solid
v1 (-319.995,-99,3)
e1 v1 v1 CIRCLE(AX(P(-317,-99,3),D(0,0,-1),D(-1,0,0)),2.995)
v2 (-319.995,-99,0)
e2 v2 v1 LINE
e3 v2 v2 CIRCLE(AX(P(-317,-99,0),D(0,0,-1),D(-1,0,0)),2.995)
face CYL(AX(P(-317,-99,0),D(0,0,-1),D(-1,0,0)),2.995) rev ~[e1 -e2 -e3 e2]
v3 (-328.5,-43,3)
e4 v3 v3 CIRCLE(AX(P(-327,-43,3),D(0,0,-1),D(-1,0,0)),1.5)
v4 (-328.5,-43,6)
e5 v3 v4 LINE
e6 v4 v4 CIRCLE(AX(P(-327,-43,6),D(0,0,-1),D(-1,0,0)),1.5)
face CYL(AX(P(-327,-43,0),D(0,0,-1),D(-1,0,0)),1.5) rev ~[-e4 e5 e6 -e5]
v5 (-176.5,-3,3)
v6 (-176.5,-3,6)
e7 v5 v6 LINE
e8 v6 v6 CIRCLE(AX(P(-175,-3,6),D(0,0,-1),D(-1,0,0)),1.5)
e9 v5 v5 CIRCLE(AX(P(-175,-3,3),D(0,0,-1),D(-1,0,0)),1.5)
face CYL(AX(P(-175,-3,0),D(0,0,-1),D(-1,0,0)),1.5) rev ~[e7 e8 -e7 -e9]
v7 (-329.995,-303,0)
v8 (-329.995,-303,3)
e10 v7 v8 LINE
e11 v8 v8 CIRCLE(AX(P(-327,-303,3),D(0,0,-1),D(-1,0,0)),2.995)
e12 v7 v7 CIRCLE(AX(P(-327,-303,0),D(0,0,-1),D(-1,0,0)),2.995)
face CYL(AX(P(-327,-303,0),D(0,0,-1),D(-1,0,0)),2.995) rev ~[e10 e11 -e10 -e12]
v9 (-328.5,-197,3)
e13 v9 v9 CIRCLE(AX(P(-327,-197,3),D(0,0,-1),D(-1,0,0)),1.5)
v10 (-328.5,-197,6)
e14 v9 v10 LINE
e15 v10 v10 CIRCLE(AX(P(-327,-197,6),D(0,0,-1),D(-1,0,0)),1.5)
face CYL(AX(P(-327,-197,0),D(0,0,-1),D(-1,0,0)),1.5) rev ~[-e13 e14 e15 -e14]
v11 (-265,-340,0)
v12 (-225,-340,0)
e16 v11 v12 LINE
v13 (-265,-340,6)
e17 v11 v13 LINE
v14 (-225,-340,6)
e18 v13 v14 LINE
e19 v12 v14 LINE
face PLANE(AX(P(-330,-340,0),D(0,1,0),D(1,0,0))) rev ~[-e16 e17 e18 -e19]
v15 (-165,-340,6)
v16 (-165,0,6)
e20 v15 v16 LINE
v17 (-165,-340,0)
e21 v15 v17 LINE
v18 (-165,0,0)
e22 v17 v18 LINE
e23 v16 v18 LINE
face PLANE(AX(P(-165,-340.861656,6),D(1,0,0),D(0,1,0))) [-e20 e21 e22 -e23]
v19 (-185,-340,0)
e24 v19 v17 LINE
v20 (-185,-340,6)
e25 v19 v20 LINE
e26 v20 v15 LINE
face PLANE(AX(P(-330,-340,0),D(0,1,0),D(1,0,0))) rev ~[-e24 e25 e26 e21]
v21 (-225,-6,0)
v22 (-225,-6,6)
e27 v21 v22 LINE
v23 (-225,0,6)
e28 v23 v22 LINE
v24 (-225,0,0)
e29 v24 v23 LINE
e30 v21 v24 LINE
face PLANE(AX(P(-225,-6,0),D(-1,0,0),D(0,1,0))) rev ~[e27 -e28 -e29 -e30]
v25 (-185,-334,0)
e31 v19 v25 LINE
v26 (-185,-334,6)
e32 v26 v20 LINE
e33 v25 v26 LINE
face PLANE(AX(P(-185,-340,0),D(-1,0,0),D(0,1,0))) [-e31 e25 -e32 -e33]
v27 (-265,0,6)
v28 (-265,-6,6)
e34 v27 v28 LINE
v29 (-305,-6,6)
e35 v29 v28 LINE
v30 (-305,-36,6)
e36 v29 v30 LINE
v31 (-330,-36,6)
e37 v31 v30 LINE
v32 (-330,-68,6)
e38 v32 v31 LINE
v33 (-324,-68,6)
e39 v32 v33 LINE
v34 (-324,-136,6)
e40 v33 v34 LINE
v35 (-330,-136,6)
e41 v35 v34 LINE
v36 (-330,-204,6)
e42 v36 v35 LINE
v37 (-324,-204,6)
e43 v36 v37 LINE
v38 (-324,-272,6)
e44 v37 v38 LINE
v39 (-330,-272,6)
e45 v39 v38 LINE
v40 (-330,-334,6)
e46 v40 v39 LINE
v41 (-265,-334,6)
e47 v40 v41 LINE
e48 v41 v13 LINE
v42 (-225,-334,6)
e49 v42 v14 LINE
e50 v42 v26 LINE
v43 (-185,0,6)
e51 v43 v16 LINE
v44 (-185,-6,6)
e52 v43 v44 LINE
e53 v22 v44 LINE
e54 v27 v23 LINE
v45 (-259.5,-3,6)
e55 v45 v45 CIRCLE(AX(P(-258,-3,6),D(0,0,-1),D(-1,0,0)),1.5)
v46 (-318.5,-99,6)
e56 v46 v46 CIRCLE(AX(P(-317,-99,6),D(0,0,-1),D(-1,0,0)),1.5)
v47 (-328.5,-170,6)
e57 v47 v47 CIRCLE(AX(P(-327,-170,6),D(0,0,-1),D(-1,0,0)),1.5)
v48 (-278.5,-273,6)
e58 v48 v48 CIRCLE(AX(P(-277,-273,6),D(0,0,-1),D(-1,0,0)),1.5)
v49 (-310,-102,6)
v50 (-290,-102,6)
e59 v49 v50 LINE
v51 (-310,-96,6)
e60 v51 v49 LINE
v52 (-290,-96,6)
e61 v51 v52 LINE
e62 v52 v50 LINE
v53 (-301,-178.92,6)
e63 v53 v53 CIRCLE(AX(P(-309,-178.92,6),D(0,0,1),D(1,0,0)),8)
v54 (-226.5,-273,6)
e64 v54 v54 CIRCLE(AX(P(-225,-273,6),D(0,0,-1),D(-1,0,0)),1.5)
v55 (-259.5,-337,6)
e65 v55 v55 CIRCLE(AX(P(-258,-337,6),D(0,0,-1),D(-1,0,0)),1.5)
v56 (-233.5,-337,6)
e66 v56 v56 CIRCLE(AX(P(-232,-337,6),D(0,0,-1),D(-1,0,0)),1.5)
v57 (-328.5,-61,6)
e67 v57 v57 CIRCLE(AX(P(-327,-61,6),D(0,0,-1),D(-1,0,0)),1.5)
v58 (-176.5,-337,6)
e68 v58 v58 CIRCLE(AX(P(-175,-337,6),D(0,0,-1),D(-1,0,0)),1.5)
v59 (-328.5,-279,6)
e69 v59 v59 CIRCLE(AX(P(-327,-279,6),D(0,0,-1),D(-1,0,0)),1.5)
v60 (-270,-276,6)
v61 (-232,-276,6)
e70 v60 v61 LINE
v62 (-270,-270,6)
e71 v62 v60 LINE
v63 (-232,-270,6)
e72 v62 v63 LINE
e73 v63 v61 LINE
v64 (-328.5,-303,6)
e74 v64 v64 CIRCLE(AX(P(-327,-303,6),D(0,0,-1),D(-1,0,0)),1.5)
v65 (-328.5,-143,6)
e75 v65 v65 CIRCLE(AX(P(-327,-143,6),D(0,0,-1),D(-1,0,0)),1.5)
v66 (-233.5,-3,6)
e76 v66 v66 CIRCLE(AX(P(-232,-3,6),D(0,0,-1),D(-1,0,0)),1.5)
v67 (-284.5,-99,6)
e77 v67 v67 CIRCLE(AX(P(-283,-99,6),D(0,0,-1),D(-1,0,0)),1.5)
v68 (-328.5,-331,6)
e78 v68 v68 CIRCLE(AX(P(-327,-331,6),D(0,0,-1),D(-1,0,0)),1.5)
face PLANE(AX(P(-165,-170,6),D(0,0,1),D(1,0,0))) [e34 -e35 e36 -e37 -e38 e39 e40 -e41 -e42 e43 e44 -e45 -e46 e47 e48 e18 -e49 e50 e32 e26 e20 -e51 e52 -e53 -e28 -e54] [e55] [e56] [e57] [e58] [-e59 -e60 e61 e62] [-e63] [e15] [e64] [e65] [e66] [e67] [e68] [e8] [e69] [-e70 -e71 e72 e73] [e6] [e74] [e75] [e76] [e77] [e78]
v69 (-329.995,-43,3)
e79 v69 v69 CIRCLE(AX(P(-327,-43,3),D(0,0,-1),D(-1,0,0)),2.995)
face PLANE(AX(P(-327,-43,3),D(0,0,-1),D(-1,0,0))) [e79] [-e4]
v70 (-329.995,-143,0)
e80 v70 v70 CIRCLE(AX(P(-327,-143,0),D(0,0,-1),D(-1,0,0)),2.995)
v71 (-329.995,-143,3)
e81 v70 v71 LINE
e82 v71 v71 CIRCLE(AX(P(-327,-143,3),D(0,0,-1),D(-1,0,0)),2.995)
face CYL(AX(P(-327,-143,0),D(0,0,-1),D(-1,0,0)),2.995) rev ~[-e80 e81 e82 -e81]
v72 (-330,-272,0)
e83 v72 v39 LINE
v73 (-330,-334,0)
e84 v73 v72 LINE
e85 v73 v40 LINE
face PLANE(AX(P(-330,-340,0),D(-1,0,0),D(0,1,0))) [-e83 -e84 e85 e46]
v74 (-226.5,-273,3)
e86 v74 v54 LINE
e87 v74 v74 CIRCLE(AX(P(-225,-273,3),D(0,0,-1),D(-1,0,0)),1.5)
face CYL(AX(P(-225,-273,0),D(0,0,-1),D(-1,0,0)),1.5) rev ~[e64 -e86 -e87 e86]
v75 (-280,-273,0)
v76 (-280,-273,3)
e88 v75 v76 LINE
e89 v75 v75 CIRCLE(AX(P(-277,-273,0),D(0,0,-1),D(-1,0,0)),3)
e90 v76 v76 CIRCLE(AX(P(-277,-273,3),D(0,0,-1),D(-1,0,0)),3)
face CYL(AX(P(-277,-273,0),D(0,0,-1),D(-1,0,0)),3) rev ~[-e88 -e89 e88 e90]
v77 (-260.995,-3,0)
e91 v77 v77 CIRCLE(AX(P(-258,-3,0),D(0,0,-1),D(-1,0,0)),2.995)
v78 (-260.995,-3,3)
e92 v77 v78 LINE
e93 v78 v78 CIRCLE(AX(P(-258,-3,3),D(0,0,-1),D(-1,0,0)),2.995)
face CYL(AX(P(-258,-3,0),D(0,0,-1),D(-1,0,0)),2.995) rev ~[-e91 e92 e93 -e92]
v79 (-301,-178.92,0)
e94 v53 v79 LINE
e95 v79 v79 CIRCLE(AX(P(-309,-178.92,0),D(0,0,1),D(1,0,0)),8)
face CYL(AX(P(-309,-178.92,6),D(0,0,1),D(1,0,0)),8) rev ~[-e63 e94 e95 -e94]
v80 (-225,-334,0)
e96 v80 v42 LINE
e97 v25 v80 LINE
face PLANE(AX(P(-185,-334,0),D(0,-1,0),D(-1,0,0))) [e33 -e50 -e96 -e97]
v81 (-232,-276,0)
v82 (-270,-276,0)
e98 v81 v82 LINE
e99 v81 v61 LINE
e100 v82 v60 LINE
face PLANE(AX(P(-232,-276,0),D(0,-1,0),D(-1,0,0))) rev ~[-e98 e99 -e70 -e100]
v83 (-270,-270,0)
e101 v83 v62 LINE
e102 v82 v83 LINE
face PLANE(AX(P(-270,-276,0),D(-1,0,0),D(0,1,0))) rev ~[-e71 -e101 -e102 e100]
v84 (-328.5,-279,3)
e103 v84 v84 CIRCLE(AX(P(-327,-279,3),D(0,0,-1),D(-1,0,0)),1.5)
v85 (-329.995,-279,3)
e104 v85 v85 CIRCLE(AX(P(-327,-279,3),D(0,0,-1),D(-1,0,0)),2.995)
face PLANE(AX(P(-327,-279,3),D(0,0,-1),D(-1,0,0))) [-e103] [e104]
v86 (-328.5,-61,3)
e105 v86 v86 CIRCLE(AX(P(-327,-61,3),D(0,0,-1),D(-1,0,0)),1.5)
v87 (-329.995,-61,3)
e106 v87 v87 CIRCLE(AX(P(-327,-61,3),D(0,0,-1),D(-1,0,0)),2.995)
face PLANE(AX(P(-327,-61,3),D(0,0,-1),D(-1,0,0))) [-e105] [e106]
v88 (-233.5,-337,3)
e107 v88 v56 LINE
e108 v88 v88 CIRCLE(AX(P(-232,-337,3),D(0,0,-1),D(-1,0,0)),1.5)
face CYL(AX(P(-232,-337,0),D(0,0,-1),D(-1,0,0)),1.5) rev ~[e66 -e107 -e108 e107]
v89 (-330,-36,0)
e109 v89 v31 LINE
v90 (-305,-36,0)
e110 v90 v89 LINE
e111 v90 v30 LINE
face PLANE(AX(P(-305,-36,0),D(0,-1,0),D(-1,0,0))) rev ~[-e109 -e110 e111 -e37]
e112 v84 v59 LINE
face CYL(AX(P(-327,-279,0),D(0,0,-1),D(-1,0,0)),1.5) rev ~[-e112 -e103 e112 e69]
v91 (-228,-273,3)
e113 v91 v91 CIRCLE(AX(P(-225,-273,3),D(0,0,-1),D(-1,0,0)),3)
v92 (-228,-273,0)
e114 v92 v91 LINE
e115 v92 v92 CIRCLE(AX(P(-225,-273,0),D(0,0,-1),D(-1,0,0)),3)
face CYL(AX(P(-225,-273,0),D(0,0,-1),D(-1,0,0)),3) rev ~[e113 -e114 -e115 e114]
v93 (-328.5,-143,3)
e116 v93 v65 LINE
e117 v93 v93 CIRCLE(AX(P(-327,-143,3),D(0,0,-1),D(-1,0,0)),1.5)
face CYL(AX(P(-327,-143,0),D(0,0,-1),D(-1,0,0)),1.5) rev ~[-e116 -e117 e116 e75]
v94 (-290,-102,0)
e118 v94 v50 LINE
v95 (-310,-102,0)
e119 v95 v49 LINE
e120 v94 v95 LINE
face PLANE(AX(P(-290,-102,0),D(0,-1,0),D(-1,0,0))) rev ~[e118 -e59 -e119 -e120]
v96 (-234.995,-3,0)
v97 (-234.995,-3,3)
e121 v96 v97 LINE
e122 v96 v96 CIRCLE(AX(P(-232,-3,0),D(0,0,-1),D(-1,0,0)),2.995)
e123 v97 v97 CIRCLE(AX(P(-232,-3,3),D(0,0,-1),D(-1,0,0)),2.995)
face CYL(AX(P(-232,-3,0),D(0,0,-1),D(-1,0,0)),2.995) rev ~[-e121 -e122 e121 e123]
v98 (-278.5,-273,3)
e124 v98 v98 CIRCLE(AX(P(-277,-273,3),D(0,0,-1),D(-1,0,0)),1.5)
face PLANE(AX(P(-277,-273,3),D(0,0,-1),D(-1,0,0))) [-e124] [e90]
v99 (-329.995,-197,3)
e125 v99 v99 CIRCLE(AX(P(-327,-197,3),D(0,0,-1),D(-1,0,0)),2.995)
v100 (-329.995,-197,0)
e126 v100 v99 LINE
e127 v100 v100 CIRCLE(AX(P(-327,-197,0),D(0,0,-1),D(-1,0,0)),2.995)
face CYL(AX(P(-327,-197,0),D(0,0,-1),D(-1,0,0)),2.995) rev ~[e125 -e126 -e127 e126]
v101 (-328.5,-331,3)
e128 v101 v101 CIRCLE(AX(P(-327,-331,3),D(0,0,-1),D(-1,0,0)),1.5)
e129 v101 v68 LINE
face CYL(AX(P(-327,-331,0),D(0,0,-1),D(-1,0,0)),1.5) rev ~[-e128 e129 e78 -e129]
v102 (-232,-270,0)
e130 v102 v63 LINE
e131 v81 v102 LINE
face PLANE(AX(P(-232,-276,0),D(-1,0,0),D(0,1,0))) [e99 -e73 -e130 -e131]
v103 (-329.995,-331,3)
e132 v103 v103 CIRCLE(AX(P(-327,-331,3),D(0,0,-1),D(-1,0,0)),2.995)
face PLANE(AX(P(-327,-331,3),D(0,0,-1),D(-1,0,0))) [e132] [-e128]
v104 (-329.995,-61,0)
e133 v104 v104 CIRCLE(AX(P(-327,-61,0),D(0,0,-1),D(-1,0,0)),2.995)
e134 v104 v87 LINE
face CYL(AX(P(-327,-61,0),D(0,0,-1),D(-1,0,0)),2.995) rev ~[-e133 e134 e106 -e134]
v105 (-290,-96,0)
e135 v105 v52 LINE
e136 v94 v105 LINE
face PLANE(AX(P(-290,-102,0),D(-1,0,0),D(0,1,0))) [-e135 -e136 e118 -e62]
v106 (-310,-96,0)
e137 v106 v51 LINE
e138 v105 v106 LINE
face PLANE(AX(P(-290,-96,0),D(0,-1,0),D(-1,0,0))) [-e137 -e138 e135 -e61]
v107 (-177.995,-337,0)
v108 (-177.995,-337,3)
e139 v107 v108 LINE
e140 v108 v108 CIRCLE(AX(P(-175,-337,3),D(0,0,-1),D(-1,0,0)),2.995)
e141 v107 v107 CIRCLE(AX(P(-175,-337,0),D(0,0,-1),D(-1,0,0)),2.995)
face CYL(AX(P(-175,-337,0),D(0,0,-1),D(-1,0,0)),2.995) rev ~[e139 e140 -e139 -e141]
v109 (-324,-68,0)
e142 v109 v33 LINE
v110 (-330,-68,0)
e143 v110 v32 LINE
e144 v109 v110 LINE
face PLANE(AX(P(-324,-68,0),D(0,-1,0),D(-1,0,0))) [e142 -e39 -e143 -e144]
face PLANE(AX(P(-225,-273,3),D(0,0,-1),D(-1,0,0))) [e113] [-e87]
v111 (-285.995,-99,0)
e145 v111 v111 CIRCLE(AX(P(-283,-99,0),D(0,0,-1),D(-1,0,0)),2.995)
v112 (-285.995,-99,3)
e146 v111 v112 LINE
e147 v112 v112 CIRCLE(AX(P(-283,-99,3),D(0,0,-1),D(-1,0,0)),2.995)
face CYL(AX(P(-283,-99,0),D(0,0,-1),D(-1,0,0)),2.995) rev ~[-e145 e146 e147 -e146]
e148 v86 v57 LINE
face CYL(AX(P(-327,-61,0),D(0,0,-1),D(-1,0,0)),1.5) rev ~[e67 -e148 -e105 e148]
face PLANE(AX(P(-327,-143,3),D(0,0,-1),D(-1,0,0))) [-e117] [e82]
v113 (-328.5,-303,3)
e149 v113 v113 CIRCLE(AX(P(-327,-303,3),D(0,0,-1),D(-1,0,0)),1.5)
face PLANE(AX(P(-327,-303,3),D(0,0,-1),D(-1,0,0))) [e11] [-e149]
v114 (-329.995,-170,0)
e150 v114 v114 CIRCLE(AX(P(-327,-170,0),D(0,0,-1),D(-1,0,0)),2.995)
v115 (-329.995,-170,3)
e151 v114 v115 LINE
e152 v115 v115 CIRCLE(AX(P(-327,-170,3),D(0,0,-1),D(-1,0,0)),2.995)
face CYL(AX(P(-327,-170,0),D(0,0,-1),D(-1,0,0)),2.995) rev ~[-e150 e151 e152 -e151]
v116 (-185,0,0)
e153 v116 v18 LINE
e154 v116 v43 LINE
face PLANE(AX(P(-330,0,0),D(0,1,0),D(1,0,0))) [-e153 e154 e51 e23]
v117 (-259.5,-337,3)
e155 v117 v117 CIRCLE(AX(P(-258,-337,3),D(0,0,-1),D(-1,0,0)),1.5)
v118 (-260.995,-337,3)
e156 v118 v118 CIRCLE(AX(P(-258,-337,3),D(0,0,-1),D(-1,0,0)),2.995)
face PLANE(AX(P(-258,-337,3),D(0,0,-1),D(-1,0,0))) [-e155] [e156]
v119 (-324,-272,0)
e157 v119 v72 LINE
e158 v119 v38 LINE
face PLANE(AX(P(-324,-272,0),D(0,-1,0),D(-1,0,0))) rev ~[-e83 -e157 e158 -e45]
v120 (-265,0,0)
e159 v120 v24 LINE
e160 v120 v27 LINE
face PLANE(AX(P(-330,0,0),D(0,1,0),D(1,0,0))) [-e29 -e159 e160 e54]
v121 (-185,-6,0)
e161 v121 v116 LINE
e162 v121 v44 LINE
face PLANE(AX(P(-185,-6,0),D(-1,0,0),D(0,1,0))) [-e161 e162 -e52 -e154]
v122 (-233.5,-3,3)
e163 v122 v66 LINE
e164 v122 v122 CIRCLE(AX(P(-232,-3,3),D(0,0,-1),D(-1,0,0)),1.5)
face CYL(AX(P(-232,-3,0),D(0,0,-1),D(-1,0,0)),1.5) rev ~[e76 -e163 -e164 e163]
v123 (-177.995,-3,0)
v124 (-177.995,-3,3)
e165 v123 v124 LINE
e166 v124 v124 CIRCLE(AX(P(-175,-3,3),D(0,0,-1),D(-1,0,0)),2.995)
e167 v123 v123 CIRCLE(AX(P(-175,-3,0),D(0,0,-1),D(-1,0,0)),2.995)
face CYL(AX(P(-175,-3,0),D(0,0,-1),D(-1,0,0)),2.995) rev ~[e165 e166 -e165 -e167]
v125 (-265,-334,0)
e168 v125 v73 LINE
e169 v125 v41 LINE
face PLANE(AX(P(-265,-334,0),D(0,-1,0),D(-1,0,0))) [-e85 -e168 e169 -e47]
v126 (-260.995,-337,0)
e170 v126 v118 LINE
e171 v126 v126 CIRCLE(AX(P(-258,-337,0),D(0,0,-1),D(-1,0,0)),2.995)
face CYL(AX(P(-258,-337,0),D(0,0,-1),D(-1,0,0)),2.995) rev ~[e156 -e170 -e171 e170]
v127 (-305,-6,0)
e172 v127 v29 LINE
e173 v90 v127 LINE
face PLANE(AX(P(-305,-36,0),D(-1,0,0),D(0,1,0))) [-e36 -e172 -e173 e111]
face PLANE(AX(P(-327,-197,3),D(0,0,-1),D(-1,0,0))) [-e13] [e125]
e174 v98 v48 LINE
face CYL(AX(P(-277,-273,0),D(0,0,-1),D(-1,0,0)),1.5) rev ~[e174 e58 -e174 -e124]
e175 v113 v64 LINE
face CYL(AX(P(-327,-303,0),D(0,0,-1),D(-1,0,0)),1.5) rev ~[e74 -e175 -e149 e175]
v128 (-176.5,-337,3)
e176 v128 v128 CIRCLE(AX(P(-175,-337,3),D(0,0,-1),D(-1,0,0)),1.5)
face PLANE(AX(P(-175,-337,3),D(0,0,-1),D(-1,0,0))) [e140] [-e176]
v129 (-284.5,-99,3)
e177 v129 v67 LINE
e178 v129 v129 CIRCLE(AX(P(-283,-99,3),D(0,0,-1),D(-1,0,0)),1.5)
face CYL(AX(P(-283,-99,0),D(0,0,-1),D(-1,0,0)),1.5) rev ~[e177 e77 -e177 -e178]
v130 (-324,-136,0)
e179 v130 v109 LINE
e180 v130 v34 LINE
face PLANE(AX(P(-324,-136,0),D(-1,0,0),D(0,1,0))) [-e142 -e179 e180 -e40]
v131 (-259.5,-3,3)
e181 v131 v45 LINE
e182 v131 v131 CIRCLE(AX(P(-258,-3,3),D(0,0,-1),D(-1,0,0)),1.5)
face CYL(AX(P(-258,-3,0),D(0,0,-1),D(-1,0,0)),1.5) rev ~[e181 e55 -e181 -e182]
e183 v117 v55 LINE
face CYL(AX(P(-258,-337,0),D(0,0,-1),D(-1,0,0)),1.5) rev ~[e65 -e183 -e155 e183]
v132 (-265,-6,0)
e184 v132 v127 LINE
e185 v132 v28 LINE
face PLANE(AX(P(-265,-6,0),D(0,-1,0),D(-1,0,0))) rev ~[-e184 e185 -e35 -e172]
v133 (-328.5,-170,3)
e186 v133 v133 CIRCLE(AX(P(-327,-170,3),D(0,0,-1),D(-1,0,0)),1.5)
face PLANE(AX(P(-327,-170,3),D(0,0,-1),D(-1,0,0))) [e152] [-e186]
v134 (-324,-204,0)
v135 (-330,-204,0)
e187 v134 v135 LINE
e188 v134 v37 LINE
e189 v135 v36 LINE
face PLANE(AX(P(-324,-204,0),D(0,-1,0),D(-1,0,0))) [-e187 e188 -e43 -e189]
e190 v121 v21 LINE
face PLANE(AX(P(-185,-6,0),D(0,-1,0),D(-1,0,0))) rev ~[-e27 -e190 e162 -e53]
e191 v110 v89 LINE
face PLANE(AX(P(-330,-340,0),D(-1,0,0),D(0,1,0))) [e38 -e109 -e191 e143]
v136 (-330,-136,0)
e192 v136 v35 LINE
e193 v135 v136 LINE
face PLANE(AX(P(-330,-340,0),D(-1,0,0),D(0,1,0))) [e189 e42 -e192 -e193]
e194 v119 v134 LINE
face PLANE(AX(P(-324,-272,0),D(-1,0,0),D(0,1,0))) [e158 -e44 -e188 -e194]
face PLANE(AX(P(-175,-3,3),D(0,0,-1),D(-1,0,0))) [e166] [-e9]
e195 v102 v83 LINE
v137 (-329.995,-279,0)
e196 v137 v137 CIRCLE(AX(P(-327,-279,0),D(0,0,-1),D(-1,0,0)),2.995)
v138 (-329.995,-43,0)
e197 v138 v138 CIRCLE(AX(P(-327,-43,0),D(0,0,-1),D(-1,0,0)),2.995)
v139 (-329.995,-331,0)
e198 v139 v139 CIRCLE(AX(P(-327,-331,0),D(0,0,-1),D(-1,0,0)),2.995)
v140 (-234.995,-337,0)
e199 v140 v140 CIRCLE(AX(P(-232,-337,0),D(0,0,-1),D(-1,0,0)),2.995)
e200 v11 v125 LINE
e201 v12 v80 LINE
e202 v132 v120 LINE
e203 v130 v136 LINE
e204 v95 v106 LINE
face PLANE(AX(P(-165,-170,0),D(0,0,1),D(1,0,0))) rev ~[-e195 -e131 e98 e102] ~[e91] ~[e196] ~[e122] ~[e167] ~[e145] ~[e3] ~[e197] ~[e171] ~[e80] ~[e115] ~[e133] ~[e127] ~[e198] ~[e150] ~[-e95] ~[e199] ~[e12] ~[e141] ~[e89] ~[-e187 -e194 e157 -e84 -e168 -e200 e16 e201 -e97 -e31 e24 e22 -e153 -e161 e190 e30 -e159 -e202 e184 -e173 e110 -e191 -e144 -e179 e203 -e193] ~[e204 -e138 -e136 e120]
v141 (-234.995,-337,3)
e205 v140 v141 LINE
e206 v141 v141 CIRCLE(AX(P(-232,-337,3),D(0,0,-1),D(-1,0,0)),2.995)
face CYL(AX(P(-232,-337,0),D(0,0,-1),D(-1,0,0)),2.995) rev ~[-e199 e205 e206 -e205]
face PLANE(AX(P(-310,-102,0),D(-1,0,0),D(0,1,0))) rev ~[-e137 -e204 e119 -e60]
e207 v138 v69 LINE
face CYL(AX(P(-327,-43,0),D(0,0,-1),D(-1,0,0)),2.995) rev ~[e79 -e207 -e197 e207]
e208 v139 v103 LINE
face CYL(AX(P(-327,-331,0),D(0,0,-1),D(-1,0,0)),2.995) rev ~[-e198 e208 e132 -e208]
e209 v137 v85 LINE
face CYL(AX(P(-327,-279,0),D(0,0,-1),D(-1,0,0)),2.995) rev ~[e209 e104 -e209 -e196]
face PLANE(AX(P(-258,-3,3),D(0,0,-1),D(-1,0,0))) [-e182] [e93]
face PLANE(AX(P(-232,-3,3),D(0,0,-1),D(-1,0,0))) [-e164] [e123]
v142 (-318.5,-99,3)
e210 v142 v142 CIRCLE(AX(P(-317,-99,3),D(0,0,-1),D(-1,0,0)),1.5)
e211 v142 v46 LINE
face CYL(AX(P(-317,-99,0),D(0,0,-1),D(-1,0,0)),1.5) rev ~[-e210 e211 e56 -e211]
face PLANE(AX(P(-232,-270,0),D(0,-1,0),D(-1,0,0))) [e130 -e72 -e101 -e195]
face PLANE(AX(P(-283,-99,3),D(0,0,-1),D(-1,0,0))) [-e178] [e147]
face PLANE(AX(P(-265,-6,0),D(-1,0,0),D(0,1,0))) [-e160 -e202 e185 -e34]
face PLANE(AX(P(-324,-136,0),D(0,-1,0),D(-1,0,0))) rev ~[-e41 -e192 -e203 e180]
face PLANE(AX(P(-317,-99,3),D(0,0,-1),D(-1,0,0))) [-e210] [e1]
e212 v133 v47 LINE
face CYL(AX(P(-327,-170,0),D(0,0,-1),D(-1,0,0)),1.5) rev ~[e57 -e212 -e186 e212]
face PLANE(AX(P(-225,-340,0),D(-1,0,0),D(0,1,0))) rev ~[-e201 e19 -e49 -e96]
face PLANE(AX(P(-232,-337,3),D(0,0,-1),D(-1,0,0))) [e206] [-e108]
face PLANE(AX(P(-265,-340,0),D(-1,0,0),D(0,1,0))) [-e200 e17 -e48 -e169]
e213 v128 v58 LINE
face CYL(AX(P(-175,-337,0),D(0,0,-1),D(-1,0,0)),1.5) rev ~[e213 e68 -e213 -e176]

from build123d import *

# Parameters (mm, degrees)
ESQUISSE2_W                            = 330
ESQUISSE2_H                            = 340
BOSS_EXTRU_1_DEPTH                     = 6
ESQUISSE4_W                            = 65
ESQUISSE4_H                            = 6
ESQUISSE4_W_2                          = 40
ESQUISSE4_W_3                          = 6
ESQUISSE4_H_2                          = 68
ENL_V_MAT_ENCOCHE_BORD_DEPTH           = 474.852297662
ESQUISSE5_W                            = 38
ESQUISSE5_H                            = 6
ESQUISSE5_W_2                          = 25
ESQUISSE5_H_2                          = 30
ESQUISSE5_W_3                          = 15
ESQUISSE5_H_3                          = 10
ESQUISSE5_W_4                          = 20
ENL_V_MAT_ENCOCHE_TAGE_ROULETTES_DEPTH = 474.852297662
ESQUISSE6_R                            = 8
ENL_V_MAT_EXTRU_1_DEPTH                = 10
ESQUISSE7_W                            = 165
ESQUISSE7_H                            = 340.861655668
ENL_V_MAT_EXTRU_2_DEPTH                = 474.852297662
ESQUISSE8_R                            = 1.5
ENL_V_MAT_EXTRU_3_DEPTH                = 474.852297662
ESQUISSE9_R                            = 2.995
ESQUISSE9_R_2                          = 3
ENL_V_MAT_EXTRU_4_DEPTH                = 3


with BuildPart() as part:
    # Esquisse2 → Boss.-Extru.1 (new body)
    with BuildSketch(Plane.XY):
        with Locations((-165, -170)):
            Rectangle(ESQUISSE2_W, ESQUISSE2_H)
    extrude(amount=BOSS_EXTRU_1_DEPTH)

    # Esquisse4 → Enlèv. mat encoche bord (cut, through all)
    with BuildSketch(Plane(origin=(0, 0, 0), x_dir=(-1, 0, 0), z_dir=(0, 0, -1))):
        with Locations((297.5, -3)):
            Rectangle(ESQUISSE4_W, ESQUISSE4_H)
        with Locations((205, -3)):
            Rectangle(ESQUISSE4_W_2, ESQUISSE4_H)
        with Locations((125, -3)):
            Rectangle(ESQUISSE4_W_2, ESQUISSE4_H)
        with Locations((32.5, -3)):
            Rectangle(ESQUISSE4_W, ESQUISSE4_H)
        with Locations((327, -102)):
            Rectangle(ESQUISSE4_W_3, ESQUISSE4_H_2)
        with Locations((3, -102)):
            Rectangle(ESQUISSE4_W_3, ESQUISSE4_H_2)
        with Locations((297.5, -337)):
            Rectangle(ESQUISSE4_W, ESQUISSE4_H)
        with Locations((205, -337)):
            Rectangle(ESQUISSE4_W_2, ESQUISSE4_H)
        with Locations((125, -337)):
            Rectangle(ESQUISSE4_W_2, ESQUISSE4_H)
        with Locations((32.5, -337)):
            Rectangle(ESQUISSE4_W, ESQUISSE4_H)
        with Locations((327, -238)):
            Rectangle(ESQUISSE4_W_3, ESQUISSE4_H_2)
        with Locations((3, -238)):
            Rectangle(ESQUISSE4_W_3, ESQUISSE4_H_2)
    extrude(amount=-ENL_V_MAT_ENCOCHE_BORD_DEPTH, mode=Mode.SUBTRACT)

    # Esquisse5 → Enlèv. mat encoche étage + roulettes (cut, through all)
    with BuildSketch(Plane(origin=(0, 0, 0), x_dir=(-1, 0, 0), z_dir=(0, 0, -1))):
        with Locations((251, -273)):
            Rectangle(ESQUISSE5_W, ESQUISSE5_H)
        with Locations((79, -273)):
            Rectangle(ESQUISSE5_W, ESQUISSE5_H)
        with Locations((317.5, -21)):
            Rectangle(ESQUISSE5_W_2, ESQUISSE5_H_2)
        with Locations((7.5, -11)):
            Rectangle(ESQUISSE5_W_3, ESQUISSE5_H_3)
        with Locations((300, -99)):
            Rectangle(ESQUISSE5_W_4, ESQUISSE5_H)
        with Locations((30, -99)):
            Rectangle(ESQUISSE5_W_4, ESQUISSE5_H)
    extrude(amount=-ENL_V_MAT_ENCOCHE_TAGE_ROULETTES_DEPTH, mode=Mode.SUBTRACT)

    # Esquisse6 → Enlèv. mat.-Extru.1 (cut)
    with BuildSketch(Plane.XY.offset(6)):
        with Locations((-21, -178.92)):
            Circle(ESQUISSE6_R)
        with Locations((-309, -178.92)):
            Circle(ESQUISSE6_R)
    extrude(amount=-ENL_V_MAT_EXTRU_1_DEPTH, mode=Mode.SUBTRACT)

    # Esquisse7 → Enlèv. mat.-Extru.2 (cut, through all)
    with BuildSketch(Plane.XY.offset(6)):
        with Locations((-82.5, -170.430827834)):
            Rectangle(ESQUISSE7_W, ESQUISSE7_H)
    extrude(amount=-ENL_V_MAT_EXTRU_2_DEPTH, mode=Mode.SUBTRACT)

    # Esquisse8 → Enlèv. mat.-Extru.3 (cut, through all)
    with BuildSketch(Plane(origin=(0, 0, 0), x_dir=(-1, 0, 0), z_dir=(0, 0, -1))):
        with Locations((175, -337)):
            Circle(ESQUISSE8_R)
        with Locations((232, -337)):
            Circle(ESQUISSE8_R)
        with Locations((258, -337)):
            Circle(ESQUISSE8_R)
        with Locations((327, -331)):
            Circle(ESQUISSE8_R)
        with Locations((327, -303)):
            Circle(ESQUISSE8_R)
        with Locations((327, -279)):
            Circle(ESQUISSE8_R)
        with Locations((277, -273)):
            Circle(ESQUISSE8_R)
        with Locations((225, -273)):
            Circle(ESQUISSE8_R)
        with Locations((327, -197)):
            Circle(ESQUISSE8_R)
        with Locations((327, -170)):
            Circle(ESQUISSE8_R)
        with Locations((327, -143)):
            Circle(ESQUISSE8_R)
        with Locations((327, -61)):
            Circle(ESQUISSE8_R)
        with Locations((327, -43)):
            Circle(ESQUISSE8_R)
        with Locations((258, -3)):
            Circle(ESQUISSE8_R)
        with Locations((232, -3)):
            Circle(ESQUISSE8_R)
        with Locations((175, -3)):
            Circle(ESQUISSE8_R)
        with Locations((317, -99)):
            Circle(ESQUISSE8_R)
        with Locations((283, -99)):
            Circle(ESQUISSE8_R)
    extrude(amount=-ENL_V_MAT_EXTRU_3_DEPTH, mode=Mode.SUBTRACT)

    # Esquisse9 → Enlèv. mat.-Extru.4 (cut)
    with BuildSketch(Plane(origin=(0, 0, 0), x_dir=(-1, 0, 0), z_dir=(0, 0, -1))):
        with Locations((327, -43)):
            Circle(ESQUISSE9_R)
        with Locations((327, -61)):
            Circle(ESQUISSE9_R)
        with Locations((317, -99)):
            Circle(ESQUISSE9_R)
        with Locations((283, -99)):
            Circle(ESQUISSE9_R)
        with Locations((327, -143)):
            Circle(ESQUISSE9_R)
        with Locations((327, -170)):
            Circle(ESQUISSE9_R)
        with Locations((327, -331)):
            Circle(ESQUISSE9_R)
        with Locations((327, -303)):
            Circle(ESQUISSE9_R)
        with Locations((327, -279)):
            Circle(ESQUISSE9_R)
        with Locations((277, -273)):
            Circle(ESQUISSE9_R_2)
        with Locations((225, -273)):
            Circle(ESQUISSE9_R_2)
        with Locations((258, -337)):
            Circle(ESQUISSE9_R)
        with Locations((232, -337)):
            Circle(ESQUISSE9_R)
        with Locations((175, -337)):
            Circle(ESQUISSE9_R)
        with Locations((327, -197)):
            Circle(ESQUISSE9_R)
        with Locations((258, -3)):
            Circle(ESQUISSE9_R)
        with Locations((232, -3)):
            Circle(ESQUISSE9_R)
        with Locations((175, -3)):
            Circle(ESQUISSE9_R)
    extrude(amount=-ENL_V_MAT_EXTRU_4_DEPTH, mode=Mode.SUBTRACT)


solid = part.part
